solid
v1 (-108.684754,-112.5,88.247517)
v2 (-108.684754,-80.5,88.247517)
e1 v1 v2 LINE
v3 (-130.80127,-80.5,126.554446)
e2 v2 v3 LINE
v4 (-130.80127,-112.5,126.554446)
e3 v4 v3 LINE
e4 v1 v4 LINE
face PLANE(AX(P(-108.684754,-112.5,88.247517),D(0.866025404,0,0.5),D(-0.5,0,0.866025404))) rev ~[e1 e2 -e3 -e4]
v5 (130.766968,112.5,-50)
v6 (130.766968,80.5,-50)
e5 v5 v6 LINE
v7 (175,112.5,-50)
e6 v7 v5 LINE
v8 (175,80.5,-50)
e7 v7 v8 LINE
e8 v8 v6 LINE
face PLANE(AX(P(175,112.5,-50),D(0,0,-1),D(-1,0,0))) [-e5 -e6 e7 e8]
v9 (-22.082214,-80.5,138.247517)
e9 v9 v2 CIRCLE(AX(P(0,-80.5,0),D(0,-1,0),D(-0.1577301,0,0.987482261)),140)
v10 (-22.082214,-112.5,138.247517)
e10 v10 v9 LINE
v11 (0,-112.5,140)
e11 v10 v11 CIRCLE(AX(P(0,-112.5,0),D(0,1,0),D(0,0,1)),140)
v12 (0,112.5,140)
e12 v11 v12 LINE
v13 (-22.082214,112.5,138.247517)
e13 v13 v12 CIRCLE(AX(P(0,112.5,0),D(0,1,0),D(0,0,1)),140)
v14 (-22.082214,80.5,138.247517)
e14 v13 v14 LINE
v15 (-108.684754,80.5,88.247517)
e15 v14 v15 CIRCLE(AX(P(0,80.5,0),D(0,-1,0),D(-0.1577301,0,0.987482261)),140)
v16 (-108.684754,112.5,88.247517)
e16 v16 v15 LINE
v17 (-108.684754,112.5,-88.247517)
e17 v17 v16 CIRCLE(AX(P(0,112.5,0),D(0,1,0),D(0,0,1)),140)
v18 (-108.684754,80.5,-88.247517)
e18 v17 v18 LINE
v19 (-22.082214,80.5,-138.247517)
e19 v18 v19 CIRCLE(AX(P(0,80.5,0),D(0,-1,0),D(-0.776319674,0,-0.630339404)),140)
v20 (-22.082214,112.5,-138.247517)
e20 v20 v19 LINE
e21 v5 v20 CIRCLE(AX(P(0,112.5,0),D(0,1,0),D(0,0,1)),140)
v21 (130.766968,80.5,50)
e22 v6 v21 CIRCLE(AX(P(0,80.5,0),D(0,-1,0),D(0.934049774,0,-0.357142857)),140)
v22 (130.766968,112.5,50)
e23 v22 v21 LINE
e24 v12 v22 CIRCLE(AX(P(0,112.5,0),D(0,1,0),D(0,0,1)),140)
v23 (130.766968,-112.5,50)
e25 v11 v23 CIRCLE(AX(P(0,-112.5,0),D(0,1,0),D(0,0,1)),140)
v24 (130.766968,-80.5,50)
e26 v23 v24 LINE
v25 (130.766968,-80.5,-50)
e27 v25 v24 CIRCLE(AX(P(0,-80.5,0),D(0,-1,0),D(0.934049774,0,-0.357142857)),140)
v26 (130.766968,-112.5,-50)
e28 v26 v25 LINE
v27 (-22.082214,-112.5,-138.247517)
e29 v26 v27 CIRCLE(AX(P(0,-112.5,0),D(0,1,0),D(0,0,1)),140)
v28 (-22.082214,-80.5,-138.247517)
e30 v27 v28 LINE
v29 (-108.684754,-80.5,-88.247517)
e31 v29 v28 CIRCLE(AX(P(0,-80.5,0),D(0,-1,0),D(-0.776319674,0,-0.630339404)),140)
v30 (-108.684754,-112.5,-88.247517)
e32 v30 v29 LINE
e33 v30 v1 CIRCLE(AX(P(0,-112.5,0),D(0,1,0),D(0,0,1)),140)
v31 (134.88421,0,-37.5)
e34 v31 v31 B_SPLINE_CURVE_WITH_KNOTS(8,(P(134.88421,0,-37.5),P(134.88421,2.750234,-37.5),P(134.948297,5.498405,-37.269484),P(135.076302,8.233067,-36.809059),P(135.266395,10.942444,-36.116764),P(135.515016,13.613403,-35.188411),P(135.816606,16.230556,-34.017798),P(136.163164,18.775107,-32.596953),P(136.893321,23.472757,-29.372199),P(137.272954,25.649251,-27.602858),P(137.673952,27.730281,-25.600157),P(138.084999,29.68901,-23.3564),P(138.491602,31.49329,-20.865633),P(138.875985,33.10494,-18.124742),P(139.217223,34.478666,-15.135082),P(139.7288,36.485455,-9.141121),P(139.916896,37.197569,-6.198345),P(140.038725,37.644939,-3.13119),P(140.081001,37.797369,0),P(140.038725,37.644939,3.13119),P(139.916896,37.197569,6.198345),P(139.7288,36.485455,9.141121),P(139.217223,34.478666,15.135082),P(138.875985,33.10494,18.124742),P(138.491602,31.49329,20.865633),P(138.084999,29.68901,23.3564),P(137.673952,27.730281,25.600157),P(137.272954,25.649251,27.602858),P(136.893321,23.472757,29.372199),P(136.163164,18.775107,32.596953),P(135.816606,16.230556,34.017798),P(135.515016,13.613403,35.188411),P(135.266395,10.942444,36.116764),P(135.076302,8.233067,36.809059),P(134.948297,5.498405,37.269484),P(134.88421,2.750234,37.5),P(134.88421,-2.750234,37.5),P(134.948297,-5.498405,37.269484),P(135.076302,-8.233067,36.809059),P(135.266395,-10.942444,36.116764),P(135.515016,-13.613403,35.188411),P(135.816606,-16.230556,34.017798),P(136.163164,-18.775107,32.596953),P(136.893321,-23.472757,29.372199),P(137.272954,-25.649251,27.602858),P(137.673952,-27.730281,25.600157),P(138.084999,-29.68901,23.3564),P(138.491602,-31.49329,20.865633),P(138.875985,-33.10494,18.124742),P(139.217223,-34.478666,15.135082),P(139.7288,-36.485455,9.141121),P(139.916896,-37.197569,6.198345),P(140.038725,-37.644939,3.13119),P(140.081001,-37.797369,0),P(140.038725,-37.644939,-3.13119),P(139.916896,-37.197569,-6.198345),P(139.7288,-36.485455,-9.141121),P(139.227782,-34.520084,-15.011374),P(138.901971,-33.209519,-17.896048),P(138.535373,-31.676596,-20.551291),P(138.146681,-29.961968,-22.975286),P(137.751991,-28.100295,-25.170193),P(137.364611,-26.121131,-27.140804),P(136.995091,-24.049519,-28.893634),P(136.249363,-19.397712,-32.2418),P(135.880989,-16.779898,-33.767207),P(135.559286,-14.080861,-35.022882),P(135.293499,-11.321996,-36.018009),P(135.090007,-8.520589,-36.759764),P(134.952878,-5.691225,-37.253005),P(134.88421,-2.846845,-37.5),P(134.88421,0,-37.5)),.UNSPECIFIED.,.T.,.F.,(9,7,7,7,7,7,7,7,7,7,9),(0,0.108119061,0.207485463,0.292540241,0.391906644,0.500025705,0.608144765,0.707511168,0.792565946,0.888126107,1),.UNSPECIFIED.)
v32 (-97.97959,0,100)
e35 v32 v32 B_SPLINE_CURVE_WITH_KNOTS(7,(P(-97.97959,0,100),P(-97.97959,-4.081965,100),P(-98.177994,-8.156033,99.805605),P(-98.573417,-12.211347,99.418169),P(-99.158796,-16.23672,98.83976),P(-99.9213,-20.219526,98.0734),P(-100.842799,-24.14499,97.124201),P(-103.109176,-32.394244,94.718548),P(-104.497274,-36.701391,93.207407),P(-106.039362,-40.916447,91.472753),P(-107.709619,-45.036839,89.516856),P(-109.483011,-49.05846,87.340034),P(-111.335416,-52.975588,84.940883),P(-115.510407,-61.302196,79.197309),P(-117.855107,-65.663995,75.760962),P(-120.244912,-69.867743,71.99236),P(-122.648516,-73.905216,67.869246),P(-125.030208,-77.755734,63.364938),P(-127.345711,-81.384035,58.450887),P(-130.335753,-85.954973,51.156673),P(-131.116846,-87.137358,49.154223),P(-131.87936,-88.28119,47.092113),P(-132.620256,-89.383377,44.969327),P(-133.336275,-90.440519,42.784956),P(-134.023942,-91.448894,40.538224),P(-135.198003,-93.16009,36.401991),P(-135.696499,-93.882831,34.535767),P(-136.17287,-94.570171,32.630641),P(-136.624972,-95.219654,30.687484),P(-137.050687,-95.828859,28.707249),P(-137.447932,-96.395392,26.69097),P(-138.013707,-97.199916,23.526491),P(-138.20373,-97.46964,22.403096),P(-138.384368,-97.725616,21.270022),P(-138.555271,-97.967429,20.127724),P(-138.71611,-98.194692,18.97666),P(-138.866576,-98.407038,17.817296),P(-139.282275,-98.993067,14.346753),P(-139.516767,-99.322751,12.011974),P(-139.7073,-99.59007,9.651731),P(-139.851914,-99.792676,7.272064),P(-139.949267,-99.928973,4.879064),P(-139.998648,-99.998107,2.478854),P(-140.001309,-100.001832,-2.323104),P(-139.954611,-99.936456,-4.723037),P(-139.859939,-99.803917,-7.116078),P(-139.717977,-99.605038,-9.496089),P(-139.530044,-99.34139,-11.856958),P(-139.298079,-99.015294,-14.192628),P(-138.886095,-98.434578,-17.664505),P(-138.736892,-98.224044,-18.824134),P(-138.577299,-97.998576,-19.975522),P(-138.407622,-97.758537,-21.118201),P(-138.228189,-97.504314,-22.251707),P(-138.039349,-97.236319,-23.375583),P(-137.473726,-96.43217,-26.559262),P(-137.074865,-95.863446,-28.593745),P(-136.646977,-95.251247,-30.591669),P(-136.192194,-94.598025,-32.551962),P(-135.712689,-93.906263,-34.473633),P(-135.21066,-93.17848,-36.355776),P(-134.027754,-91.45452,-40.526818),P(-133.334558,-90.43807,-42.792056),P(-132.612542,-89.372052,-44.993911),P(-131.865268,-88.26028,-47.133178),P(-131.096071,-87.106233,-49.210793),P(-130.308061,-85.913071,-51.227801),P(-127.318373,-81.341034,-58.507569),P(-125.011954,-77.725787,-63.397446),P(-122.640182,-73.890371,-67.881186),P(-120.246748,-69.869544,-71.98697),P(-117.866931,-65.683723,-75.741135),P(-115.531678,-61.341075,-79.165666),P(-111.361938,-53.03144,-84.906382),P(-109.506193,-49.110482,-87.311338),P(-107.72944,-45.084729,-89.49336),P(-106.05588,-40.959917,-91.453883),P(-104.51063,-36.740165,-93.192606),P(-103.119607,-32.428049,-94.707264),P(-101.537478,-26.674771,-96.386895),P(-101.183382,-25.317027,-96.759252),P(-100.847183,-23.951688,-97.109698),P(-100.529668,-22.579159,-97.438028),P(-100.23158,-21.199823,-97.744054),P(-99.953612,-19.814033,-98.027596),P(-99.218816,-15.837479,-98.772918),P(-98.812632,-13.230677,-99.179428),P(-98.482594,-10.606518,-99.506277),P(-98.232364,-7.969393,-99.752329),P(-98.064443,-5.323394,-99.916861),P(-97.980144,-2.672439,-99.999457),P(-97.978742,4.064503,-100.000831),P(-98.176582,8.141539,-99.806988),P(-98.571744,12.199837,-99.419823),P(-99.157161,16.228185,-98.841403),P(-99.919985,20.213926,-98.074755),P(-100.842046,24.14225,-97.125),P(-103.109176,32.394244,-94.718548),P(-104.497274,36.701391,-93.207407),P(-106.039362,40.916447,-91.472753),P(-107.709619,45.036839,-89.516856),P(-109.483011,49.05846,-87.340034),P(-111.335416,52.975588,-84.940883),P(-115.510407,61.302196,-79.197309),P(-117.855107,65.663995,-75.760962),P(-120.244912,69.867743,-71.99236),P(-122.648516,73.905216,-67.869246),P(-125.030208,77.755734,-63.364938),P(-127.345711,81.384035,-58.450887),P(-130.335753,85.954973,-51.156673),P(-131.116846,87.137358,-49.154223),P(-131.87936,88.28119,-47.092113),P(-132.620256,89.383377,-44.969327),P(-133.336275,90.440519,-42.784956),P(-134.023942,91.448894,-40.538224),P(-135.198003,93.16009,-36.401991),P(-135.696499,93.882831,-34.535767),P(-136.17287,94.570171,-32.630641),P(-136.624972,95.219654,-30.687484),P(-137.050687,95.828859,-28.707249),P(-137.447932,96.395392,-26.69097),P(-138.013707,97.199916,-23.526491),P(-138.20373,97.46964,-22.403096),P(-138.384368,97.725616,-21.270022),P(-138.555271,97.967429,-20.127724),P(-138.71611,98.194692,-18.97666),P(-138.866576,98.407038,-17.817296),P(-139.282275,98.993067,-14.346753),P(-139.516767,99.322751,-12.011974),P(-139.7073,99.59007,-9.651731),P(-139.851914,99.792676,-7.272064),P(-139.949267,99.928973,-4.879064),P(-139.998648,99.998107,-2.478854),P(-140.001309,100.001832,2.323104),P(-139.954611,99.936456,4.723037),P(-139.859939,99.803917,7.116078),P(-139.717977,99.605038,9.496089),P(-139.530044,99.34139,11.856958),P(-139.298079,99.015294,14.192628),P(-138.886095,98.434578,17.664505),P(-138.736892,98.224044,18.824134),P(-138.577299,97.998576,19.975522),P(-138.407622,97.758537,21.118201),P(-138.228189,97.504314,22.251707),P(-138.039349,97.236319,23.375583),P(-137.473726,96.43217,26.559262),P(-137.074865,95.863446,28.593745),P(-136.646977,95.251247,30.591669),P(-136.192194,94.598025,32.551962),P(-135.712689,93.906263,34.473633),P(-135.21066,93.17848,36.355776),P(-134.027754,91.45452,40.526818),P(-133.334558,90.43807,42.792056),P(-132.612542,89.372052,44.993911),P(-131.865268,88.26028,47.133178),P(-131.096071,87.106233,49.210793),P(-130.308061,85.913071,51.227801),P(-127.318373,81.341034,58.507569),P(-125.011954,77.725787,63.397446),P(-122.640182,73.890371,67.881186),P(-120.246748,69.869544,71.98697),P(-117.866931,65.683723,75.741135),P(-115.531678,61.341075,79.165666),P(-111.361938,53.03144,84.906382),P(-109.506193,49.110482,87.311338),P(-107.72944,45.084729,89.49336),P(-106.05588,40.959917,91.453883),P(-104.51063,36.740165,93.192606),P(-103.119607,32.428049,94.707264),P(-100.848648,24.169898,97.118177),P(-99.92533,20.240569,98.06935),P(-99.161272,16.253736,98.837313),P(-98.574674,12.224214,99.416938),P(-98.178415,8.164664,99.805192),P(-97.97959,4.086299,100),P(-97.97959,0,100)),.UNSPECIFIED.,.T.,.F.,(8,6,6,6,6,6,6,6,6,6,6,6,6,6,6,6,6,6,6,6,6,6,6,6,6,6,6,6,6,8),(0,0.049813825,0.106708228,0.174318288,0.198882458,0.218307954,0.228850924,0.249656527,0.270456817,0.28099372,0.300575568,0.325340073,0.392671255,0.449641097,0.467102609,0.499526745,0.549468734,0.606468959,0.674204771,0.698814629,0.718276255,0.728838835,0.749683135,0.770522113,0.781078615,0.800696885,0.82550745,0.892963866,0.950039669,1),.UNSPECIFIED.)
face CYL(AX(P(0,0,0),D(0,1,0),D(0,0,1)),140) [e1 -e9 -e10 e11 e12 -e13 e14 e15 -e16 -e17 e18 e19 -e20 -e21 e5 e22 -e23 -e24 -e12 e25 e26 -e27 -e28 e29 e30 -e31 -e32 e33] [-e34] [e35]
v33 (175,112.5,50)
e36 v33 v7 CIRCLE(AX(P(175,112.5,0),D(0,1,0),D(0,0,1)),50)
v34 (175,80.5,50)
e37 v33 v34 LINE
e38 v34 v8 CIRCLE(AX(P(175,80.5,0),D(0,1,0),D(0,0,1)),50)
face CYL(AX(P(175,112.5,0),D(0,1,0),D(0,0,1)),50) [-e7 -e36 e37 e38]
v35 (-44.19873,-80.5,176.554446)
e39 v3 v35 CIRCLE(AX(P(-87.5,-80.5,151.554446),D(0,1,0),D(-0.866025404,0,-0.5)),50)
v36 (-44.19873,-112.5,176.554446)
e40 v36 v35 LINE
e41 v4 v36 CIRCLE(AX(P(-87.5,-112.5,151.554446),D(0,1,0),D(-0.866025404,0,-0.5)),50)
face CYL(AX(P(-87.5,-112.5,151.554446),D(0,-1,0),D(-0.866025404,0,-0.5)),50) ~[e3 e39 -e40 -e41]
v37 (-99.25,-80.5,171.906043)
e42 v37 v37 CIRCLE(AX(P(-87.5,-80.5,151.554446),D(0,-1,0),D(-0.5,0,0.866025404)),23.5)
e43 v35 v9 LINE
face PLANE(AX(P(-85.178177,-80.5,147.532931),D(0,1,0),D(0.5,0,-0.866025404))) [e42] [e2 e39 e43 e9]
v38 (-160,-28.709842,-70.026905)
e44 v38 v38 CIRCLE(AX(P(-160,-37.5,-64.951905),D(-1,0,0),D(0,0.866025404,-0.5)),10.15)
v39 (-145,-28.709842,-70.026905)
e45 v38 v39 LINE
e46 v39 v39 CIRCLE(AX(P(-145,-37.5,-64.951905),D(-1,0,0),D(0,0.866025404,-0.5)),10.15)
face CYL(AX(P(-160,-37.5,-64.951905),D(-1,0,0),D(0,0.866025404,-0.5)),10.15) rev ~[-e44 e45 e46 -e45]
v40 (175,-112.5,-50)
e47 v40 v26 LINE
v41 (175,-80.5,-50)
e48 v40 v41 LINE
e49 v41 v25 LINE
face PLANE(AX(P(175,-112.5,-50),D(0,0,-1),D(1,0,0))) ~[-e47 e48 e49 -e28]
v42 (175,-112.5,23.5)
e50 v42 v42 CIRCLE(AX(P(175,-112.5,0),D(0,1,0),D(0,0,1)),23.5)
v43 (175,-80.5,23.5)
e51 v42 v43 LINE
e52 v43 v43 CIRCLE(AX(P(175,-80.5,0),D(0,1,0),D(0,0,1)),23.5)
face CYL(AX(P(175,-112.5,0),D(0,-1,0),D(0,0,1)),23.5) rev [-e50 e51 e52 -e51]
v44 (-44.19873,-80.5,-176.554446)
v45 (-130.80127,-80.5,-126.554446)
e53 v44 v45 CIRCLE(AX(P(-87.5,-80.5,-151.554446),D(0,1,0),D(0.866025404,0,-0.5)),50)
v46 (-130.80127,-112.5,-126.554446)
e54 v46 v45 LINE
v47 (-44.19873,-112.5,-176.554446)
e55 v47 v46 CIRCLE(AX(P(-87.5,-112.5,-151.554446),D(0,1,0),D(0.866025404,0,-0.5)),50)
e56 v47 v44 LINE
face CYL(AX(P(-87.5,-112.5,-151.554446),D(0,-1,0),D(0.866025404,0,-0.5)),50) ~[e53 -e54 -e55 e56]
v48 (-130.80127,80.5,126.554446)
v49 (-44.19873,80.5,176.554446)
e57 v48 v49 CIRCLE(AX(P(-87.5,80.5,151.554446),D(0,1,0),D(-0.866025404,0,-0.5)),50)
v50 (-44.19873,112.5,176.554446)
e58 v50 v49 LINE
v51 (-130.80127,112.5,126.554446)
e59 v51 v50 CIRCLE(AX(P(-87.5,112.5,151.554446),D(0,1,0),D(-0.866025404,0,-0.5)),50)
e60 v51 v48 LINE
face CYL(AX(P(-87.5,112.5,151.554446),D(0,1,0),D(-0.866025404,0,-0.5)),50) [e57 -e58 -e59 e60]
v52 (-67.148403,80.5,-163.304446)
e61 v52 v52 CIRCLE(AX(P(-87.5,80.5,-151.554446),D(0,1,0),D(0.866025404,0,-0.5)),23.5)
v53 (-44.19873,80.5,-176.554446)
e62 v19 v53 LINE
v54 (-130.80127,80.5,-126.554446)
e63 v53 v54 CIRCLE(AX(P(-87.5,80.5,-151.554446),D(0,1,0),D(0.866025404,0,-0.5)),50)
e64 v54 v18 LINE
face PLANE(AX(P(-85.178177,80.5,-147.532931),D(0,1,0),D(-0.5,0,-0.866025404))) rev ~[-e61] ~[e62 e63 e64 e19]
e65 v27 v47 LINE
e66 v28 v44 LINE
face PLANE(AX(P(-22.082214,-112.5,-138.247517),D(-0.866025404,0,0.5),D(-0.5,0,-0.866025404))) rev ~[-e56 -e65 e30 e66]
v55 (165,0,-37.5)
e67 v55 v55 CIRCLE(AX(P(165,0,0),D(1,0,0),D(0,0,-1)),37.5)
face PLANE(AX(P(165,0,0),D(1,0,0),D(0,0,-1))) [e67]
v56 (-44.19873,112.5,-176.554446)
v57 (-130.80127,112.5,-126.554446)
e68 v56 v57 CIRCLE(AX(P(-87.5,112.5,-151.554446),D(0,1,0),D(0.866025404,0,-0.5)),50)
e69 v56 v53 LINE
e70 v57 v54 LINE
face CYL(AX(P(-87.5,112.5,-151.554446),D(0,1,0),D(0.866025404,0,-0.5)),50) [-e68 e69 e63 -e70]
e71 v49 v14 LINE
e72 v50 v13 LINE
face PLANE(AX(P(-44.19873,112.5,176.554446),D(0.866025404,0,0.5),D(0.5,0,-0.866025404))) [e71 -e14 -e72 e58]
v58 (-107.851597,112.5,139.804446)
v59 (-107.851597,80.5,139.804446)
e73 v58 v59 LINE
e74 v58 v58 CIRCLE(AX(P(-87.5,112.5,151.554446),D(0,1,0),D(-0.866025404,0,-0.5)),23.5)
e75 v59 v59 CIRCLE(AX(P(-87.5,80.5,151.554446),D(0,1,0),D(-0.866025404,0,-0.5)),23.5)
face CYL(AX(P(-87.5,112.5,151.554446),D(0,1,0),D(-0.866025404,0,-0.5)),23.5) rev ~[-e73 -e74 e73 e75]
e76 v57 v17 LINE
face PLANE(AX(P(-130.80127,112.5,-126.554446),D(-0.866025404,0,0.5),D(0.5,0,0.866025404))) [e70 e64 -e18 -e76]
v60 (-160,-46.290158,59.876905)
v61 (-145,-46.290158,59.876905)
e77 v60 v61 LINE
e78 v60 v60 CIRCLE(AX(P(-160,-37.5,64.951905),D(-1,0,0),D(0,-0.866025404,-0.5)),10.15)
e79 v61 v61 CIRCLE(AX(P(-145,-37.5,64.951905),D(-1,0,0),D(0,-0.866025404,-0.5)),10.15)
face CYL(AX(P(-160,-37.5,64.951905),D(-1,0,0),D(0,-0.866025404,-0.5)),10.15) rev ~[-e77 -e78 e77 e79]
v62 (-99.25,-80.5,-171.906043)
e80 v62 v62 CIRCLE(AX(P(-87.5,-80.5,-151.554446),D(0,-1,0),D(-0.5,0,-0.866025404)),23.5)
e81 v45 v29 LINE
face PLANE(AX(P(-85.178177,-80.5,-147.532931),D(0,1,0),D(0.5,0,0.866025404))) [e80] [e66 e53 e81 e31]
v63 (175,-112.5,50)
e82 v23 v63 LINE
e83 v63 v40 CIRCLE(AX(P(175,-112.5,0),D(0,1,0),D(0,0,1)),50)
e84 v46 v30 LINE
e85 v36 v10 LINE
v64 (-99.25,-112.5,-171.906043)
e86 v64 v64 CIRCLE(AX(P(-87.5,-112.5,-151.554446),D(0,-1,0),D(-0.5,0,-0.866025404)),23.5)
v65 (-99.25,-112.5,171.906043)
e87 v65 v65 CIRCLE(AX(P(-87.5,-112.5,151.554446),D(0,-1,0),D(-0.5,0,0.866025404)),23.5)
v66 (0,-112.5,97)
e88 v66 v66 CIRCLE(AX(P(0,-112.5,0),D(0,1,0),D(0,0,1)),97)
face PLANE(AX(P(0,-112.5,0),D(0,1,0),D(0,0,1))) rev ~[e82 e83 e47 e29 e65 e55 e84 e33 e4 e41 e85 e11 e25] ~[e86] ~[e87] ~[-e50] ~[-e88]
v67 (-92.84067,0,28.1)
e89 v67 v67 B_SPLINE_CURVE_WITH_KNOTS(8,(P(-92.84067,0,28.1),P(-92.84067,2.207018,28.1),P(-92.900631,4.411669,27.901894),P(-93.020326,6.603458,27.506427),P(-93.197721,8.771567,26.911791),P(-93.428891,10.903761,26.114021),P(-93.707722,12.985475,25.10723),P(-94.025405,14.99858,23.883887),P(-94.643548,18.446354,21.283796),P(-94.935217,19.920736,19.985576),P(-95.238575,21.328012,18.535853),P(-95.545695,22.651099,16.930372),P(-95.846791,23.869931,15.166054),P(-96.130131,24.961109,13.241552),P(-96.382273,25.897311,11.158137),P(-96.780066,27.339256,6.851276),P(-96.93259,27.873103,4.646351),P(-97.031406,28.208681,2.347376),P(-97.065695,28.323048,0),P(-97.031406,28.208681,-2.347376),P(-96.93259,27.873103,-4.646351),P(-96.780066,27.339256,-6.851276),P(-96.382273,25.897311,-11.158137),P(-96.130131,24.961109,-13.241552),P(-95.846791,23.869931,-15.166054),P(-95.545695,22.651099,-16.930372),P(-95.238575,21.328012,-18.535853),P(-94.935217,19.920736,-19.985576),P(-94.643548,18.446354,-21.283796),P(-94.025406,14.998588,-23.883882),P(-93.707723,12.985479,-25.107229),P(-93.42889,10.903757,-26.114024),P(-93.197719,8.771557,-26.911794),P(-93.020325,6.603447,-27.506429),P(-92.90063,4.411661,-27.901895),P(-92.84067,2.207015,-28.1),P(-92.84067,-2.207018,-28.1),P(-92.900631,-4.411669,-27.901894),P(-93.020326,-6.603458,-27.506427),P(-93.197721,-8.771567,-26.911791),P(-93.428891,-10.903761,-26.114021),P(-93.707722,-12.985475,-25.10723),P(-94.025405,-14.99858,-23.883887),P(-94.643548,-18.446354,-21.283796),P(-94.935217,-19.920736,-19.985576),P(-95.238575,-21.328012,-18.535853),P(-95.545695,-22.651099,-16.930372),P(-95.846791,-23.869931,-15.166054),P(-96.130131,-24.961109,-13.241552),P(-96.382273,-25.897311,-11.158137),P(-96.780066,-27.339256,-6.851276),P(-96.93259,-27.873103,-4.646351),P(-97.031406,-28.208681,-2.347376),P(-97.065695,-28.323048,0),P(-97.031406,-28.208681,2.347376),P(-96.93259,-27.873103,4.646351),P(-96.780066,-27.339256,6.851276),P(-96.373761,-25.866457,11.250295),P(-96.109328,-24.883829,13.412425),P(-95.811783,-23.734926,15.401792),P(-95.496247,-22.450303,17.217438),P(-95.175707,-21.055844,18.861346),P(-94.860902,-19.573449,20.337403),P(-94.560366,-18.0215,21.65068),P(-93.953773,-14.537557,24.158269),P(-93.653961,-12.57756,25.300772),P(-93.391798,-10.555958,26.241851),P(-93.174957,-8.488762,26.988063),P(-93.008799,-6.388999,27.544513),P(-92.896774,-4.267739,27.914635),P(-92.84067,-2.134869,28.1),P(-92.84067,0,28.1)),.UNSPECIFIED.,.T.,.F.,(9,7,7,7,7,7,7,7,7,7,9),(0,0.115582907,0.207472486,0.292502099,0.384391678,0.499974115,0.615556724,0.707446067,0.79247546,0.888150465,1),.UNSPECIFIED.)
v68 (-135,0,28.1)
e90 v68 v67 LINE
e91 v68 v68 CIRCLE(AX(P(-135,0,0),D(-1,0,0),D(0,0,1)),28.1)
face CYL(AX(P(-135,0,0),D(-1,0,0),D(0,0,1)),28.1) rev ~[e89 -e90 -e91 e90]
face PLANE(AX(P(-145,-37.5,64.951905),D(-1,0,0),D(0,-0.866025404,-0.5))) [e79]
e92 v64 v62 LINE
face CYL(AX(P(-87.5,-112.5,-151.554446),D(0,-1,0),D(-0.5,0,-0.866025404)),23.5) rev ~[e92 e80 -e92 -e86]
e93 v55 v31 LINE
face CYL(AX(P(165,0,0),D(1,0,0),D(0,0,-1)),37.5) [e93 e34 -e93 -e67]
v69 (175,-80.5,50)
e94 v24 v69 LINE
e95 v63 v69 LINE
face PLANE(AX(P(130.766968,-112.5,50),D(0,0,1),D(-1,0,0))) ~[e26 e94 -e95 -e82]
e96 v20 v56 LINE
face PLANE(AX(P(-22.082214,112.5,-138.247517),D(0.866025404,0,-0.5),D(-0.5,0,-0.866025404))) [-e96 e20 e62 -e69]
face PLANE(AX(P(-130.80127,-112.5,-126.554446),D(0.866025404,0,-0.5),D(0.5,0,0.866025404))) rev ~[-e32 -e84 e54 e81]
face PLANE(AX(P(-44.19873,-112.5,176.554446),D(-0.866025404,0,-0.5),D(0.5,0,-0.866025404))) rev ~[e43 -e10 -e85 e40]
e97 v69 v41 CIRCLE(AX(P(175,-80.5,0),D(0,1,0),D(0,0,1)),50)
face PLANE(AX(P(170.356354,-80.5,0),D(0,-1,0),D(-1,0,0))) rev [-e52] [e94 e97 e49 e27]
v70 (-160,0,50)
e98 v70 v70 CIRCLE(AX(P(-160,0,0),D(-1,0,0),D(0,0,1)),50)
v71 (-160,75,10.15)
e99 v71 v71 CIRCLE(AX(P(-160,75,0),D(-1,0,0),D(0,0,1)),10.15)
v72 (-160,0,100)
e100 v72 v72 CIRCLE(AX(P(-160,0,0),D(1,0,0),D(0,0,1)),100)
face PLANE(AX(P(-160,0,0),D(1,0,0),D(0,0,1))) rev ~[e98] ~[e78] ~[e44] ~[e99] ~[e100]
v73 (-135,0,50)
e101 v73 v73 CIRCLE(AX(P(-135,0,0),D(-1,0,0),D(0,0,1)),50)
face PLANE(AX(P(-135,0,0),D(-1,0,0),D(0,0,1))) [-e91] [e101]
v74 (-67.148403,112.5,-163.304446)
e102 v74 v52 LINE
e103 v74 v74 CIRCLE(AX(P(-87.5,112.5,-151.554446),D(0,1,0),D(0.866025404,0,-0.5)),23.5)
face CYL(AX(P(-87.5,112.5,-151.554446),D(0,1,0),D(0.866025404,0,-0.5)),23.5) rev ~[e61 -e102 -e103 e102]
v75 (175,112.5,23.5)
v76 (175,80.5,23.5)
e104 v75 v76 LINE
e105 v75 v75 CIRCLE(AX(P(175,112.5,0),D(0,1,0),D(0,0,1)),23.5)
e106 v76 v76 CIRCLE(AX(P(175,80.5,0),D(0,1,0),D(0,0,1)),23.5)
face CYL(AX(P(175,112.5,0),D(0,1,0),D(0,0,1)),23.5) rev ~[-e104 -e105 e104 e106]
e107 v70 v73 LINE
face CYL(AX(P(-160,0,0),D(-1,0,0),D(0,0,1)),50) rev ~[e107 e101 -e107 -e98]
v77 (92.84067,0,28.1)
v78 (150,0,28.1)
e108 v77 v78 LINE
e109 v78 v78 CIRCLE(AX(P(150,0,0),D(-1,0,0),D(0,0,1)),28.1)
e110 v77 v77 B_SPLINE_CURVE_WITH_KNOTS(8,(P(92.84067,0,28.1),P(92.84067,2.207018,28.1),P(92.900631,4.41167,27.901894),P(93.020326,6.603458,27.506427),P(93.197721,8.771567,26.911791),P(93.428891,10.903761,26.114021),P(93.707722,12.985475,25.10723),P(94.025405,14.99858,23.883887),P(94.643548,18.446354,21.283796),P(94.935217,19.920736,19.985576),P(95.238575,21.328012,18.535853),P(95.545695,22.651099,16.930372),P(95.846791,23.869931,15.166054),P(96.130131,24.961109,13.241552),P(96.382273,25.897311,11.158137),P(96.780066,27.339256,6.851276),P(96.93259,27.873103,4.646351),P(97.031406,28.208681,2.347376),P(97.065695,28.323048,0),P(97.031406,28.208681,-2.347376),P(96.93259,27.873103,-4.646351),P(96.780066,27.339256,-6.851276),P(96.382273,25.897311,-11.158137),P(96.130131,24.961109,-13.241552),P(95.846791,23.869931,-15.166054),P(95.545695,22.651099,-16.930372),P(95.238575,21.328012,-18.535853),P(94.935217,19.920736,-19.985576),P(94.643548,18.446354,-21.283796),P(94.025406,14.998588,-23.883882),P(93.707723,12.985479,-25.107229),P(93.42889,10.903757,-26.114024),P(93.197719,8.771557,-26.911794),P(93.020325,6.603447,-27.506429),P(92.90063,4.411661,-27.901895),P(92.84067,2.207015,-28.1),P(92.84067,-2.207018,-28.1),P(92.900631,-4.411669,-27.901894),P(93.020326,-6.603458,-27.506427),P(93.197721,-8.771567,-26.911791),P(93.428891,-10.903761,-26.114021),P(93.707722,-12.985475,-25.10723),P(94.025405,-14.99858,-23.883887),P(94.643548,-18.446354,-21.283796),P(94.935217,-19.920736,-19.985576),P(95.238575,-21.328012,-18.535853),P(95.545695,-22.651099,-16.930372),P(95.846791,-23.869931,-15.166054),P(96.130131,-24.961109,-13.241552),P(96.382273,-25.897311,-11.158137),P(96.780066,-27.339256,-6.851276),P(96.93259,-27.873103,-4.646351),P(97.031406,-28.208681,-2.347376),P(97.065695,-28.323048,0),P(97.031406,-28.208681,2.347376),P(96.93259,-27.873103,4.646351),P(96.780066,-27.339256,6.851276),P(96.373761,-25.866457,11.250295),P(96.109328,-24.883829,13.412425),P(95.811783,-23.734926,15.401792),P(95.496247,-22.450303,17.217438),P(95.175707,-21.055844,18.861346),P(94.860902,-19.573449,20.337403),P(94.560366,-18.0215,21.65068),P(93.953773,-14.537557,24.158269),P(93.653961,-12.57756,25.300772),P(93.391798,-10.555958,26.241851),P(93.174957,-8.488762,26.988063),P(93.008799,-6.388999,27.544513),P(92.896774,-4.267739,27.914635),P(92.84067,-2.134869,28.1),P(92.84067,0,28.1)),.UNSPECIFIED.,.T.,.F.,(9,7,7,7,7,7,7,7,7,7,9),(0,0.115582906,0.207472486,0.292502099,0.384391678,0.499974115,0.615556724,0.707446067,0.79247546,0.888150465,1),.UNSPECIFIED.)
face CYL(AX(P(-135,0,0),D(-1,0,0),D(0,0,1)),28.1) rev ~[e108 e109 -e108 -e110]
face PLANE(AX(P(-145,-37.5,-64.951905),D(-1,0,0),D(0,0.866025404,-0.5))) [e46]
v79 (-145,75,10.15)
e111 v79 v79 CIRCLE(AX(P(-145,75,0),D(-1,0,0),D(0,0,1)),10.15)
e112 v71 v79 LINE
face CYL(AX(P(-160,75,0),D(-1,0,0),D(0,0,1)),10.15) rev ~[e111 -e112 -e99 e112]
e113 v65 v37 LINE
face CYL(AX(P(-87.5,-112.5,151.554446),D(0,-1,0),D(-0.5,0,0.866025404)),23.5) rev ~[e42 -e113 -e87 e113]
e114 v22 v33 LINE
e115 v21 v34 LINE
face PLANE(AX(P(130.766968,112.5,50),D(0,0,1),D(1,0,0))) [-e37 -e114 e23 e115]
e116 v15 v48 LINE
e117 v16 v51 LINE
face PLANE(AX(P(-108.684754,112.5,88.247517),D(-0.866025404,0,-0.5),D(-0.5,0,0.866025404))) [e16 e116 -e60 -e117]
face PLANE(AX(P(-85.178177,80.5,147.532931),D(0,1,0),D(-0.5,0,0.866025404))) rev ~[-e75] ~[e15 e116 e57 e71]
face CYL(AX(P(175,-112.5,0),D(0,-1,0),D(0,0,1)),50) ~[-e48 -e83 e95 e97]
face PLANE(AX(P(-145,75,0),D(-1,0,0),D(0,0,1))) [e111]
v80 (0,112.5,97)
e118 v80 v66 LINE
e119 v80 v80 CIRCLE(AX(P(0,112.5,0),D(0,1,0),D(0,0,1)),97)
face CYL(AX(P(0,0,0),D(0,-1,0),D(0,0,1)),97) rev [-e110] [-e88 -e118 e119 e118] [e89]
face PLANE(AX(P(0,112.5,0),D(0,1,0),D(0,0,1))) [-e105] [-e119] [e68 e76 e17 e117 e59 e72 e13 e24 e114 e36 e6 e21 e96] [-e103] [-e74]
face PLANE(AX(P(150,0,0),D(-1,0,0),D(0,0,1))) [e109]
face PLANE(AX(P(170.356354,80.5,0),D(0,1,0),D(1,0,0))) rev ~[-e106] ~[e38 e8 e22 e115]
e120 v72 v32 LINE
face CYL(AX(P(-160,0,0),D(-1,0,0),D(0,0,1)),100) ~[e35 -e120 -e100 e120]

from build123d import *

# Parameters (mm, degrees)
SKETCH1_R                = 140
SKETCH1_R_2              = 97
BOSS_EXTRUDE1_DEPTH      = 112.5
SKETCH2_R                = 23.5
BOSS_EXTRUDE2_DEPTH      = 32
CIRPATTERN1_COUNT        = 3
MIRROR1_COPY_1_SKETCH_R  = 23.5
MIRROR1_COPY_1_DEPTH     = 32
MIRROR1_COPY_2_SKETCH_R  = 23.5
MIRROR1_COPY_2_DEPTH     = 32
BOSS_EXTRUDE3_REACH      = 450.894
BOSS_EXTRUDE3_END_RADIUS = 140
SKETCH7_R                = 100
SKETCH8_R                = 50
CUT_EXTRUDE1_DEPTH       = 25
BOSS_EXTRUDE4_REACH      = 400.629
BOSS_EXTRUDE4_END_RADIUS = 140
SKETCH10_R               = 37.5
SKETCH9_R                = 28.1
CUT_EXTRUDE2_DEPTH       = 285
SKETCH11_R               = 10.15
CUT_EXTRUDE3_DEPTH       = 15
CIRPATTERN2_COUNT        = 3


with BuildPart() as part:
    # Sketch1 → Boss-Extrude1 (new, symmetric)
    with BuildSketch(Plane(origin=(0, 0, 0), x_dir=(1, 0, 0), z_dir=(0, 1, 0))):
        with Locations(Location((0, 0, 0), (0, 0, 270))):
            Circle(SKETCH1_R)
        with Locations(Location((0, 0, 0), (0, 0, 270))):
            Circle(SKETCH1_R_2, mode=Mode.SUBTRACT)
    extrude(amount=BOSS_EXTRUDE1_DEPTH, both=True)

    # Sketch2 → Boss-Extrude2 (add)
    with BuildSketch(Plane(origin=(0, 112.5, 0), x_dir=(1, 0, 0), z_dir=(0, 1, 0))):
        with BuildLine():
            Line((175, 50), (130.766968306, 50))
            ThreePointArc((130.766968306, 50), (140, 0), (130.766968306, -50))
            Line((130.766968306, -50), (175, -50))
            ThreePointArc((175, -50), (225, 0), (175, 50))
        make_face()
        with Locations(Location((175, 0, 0), (0, 0, 270))):
            Circle(SKETCH2_R, mode=Mode.SUBTRACT)
    boss_extrude2 = extrude(amount=-BOSS_EXTRUDE2_DEPTH)

    # CirPattern1: Boss-Extrude2 ×3 about axis
    cirpattern1_axis = Axis((0, 0, 0), (0, 1, 0))
    for i in range(1, CIRPATTERN1_COUNT):
        add(boss_extrude2.rotate(cirpattern1_axis, i * 360 / CIRPATTERN1_COUNT))

    # Mirror1: Boss-Extrude2 across plane
    add(boss_extrude2.mirror(Plane.ZX))

    # Mirror1 copy 1 sketch → Mirror1 copy 1 (add)
    with BuildSketch(Plane(origin=(0, -112.5, 0), x_dir=(-0.4999999999999998, 0, -0.8660254037844387), z_dir=(0, -1, 0))):
        with BuildLine():
            Line((175, -50), (130.766968306, -50))
            ThreePointArc((130.766968306, -50), (140, 0), (130.766968306, 50))
            Line((130.766968306, 50), (175, 50))
            ThreePointArc((175, 50), (225, 0), (175, -50))
        make_face()
        with Locations((175, 0)):
            Circle(MIRROR1_COPY_1_SKETCH_R, mode=Mode.SUBTRACT)
    extrude(amount=-MIRROR1_COPY_1_DEPTH)

    # Mirror1 copy 2 sketch → Mirror1 copy 2 (add)
    with BuildSketch(Plane(origin=(0, -112.5, 0), x_dir=(-0.5000000000000004, 0, 0.8660254037844384), z_dir=(0, -1, 0))):
        with BuildLine():
            Line((175, -50), (130.766968306, -50))
            ThreePointArc((130.766968306, -50), (140, 0), (130.766968306, 50))
            Line((130.766968306, 50), (175, 50))
            ThreePointArc((175, 50), (225, 0), (175, -50))
        make_face()
        with Locations((175, 0)):
            Circle(MIRROR1_COPY_2_SKETCH_R, mode=Mode.SUBTRACT)
    extrude(amount=-MIRROR1_COPY_2_DEPTH)

    # Boss-Extrude3: up to this cylinder (the profile starts outside it)
    boss_extrude3_end = Plane(origin=(0, 0, 0), z_dir=(0, -1, 0)) * Cylinder(BOSS_EXTRUDE3_END_RADIUS, 1182.788, mode=Mode.PRIVATE)
    # Sketch7 → Boss-Extrude3 (add, up to the surface)
    with BuildSketch(Plane(origin=(-160, 0, 0), x_dir=(0, 0, -1), z_dir=(1, 0, 0)), mode=Mode.PRIVATE) as boss_extrude3_sk1:
        with Locations(Location((0, 0, 0), (0, 0, 180))):
            Circle(SKETCH7_R)
    boss_extrude3_tool1 = extrude(boss_extrude3_sk1.sketch, amount=BOSS_EXTRUDE3_REACH, mode=Mode.PRIVATE) - boss_extrude3_end
    add(boss_extrude3_tool1.solids().sort_by_distance((-160, 0, 0))[0])

    # Sketch8 → Cut-Extrude1 (cut)
    with BuildSketch(Plane.ZY.offset(160)):
        Circle(SKETCH8_R)
    extrude(amount=-CUT_EXTRUDE1_DEPTH, mode=Mode.SUBTRACT)

    # Boss-Extrude4: up to this cylinder (the profile starts outside it)
    boss_extrude4_end = Plane(origin=(0, 0, 0), z_dir=(0, -1, 0)) * Cylinder(BOSS_EXTRUDE4_END_RADIUS, 1082.258, mode=Mode.PRIVATE)
    # Sketch10 → Boss-Extrude4 (add, up to the surface)
    with BuildSketch(Plane(origin=(165, 0, 0), x_dir=(0, 0, -1), z_dir=(1, 0, 0)), mode=Mode.PRIVATE) as boss_extrude4_sk1:
        Circle(SKETCH10_R)
    boss_extrude4_tool1 = extrude(boss_extrude4_sk1.sketch, amount=-BOSS_EXTRUDE4_REACH, mode=Mode.PRIVATE) - boss_extrude4_end
    add(boss_extrude4_tool1.solids().sort_by_distance((165, 0, 0))[0])

    # Sketch9 → Cut-Extrude2 (cut)
    with BuildSketch(Plane.ZY.offset(135)):
        Circle(SKETCH9_R)
    extrude(amount=-CUT_EXTRUDE2_DEPTH, mode=Mode.SUBTRACT)

    # Sketch11 → Cut-Extrude3 (cut)
    with BuildSketch(Plane.ZY.offset(160)):
        with Locations((0, 75)):
            Circle(SKETCH11_R)
    cut_extrude3 = extrude(amount=-CUT_EXTRUDE3_DEPTH, mode=Mode.SUBTRACT)

    # CirPattern2: Cut-Extrude3 ×3 about axis
    cirpattern2_axis = Axis((0, 0, 0), (1, 0, 0))
    for i in range(1, CIRPATTERN2_COUNT):
        add(cut_extrude3.rotate(cirpattern2_axis, i * 360 / CIRPATTERN2_COUNT), mode=Mode.SUBTRACT)


solid = part.part
